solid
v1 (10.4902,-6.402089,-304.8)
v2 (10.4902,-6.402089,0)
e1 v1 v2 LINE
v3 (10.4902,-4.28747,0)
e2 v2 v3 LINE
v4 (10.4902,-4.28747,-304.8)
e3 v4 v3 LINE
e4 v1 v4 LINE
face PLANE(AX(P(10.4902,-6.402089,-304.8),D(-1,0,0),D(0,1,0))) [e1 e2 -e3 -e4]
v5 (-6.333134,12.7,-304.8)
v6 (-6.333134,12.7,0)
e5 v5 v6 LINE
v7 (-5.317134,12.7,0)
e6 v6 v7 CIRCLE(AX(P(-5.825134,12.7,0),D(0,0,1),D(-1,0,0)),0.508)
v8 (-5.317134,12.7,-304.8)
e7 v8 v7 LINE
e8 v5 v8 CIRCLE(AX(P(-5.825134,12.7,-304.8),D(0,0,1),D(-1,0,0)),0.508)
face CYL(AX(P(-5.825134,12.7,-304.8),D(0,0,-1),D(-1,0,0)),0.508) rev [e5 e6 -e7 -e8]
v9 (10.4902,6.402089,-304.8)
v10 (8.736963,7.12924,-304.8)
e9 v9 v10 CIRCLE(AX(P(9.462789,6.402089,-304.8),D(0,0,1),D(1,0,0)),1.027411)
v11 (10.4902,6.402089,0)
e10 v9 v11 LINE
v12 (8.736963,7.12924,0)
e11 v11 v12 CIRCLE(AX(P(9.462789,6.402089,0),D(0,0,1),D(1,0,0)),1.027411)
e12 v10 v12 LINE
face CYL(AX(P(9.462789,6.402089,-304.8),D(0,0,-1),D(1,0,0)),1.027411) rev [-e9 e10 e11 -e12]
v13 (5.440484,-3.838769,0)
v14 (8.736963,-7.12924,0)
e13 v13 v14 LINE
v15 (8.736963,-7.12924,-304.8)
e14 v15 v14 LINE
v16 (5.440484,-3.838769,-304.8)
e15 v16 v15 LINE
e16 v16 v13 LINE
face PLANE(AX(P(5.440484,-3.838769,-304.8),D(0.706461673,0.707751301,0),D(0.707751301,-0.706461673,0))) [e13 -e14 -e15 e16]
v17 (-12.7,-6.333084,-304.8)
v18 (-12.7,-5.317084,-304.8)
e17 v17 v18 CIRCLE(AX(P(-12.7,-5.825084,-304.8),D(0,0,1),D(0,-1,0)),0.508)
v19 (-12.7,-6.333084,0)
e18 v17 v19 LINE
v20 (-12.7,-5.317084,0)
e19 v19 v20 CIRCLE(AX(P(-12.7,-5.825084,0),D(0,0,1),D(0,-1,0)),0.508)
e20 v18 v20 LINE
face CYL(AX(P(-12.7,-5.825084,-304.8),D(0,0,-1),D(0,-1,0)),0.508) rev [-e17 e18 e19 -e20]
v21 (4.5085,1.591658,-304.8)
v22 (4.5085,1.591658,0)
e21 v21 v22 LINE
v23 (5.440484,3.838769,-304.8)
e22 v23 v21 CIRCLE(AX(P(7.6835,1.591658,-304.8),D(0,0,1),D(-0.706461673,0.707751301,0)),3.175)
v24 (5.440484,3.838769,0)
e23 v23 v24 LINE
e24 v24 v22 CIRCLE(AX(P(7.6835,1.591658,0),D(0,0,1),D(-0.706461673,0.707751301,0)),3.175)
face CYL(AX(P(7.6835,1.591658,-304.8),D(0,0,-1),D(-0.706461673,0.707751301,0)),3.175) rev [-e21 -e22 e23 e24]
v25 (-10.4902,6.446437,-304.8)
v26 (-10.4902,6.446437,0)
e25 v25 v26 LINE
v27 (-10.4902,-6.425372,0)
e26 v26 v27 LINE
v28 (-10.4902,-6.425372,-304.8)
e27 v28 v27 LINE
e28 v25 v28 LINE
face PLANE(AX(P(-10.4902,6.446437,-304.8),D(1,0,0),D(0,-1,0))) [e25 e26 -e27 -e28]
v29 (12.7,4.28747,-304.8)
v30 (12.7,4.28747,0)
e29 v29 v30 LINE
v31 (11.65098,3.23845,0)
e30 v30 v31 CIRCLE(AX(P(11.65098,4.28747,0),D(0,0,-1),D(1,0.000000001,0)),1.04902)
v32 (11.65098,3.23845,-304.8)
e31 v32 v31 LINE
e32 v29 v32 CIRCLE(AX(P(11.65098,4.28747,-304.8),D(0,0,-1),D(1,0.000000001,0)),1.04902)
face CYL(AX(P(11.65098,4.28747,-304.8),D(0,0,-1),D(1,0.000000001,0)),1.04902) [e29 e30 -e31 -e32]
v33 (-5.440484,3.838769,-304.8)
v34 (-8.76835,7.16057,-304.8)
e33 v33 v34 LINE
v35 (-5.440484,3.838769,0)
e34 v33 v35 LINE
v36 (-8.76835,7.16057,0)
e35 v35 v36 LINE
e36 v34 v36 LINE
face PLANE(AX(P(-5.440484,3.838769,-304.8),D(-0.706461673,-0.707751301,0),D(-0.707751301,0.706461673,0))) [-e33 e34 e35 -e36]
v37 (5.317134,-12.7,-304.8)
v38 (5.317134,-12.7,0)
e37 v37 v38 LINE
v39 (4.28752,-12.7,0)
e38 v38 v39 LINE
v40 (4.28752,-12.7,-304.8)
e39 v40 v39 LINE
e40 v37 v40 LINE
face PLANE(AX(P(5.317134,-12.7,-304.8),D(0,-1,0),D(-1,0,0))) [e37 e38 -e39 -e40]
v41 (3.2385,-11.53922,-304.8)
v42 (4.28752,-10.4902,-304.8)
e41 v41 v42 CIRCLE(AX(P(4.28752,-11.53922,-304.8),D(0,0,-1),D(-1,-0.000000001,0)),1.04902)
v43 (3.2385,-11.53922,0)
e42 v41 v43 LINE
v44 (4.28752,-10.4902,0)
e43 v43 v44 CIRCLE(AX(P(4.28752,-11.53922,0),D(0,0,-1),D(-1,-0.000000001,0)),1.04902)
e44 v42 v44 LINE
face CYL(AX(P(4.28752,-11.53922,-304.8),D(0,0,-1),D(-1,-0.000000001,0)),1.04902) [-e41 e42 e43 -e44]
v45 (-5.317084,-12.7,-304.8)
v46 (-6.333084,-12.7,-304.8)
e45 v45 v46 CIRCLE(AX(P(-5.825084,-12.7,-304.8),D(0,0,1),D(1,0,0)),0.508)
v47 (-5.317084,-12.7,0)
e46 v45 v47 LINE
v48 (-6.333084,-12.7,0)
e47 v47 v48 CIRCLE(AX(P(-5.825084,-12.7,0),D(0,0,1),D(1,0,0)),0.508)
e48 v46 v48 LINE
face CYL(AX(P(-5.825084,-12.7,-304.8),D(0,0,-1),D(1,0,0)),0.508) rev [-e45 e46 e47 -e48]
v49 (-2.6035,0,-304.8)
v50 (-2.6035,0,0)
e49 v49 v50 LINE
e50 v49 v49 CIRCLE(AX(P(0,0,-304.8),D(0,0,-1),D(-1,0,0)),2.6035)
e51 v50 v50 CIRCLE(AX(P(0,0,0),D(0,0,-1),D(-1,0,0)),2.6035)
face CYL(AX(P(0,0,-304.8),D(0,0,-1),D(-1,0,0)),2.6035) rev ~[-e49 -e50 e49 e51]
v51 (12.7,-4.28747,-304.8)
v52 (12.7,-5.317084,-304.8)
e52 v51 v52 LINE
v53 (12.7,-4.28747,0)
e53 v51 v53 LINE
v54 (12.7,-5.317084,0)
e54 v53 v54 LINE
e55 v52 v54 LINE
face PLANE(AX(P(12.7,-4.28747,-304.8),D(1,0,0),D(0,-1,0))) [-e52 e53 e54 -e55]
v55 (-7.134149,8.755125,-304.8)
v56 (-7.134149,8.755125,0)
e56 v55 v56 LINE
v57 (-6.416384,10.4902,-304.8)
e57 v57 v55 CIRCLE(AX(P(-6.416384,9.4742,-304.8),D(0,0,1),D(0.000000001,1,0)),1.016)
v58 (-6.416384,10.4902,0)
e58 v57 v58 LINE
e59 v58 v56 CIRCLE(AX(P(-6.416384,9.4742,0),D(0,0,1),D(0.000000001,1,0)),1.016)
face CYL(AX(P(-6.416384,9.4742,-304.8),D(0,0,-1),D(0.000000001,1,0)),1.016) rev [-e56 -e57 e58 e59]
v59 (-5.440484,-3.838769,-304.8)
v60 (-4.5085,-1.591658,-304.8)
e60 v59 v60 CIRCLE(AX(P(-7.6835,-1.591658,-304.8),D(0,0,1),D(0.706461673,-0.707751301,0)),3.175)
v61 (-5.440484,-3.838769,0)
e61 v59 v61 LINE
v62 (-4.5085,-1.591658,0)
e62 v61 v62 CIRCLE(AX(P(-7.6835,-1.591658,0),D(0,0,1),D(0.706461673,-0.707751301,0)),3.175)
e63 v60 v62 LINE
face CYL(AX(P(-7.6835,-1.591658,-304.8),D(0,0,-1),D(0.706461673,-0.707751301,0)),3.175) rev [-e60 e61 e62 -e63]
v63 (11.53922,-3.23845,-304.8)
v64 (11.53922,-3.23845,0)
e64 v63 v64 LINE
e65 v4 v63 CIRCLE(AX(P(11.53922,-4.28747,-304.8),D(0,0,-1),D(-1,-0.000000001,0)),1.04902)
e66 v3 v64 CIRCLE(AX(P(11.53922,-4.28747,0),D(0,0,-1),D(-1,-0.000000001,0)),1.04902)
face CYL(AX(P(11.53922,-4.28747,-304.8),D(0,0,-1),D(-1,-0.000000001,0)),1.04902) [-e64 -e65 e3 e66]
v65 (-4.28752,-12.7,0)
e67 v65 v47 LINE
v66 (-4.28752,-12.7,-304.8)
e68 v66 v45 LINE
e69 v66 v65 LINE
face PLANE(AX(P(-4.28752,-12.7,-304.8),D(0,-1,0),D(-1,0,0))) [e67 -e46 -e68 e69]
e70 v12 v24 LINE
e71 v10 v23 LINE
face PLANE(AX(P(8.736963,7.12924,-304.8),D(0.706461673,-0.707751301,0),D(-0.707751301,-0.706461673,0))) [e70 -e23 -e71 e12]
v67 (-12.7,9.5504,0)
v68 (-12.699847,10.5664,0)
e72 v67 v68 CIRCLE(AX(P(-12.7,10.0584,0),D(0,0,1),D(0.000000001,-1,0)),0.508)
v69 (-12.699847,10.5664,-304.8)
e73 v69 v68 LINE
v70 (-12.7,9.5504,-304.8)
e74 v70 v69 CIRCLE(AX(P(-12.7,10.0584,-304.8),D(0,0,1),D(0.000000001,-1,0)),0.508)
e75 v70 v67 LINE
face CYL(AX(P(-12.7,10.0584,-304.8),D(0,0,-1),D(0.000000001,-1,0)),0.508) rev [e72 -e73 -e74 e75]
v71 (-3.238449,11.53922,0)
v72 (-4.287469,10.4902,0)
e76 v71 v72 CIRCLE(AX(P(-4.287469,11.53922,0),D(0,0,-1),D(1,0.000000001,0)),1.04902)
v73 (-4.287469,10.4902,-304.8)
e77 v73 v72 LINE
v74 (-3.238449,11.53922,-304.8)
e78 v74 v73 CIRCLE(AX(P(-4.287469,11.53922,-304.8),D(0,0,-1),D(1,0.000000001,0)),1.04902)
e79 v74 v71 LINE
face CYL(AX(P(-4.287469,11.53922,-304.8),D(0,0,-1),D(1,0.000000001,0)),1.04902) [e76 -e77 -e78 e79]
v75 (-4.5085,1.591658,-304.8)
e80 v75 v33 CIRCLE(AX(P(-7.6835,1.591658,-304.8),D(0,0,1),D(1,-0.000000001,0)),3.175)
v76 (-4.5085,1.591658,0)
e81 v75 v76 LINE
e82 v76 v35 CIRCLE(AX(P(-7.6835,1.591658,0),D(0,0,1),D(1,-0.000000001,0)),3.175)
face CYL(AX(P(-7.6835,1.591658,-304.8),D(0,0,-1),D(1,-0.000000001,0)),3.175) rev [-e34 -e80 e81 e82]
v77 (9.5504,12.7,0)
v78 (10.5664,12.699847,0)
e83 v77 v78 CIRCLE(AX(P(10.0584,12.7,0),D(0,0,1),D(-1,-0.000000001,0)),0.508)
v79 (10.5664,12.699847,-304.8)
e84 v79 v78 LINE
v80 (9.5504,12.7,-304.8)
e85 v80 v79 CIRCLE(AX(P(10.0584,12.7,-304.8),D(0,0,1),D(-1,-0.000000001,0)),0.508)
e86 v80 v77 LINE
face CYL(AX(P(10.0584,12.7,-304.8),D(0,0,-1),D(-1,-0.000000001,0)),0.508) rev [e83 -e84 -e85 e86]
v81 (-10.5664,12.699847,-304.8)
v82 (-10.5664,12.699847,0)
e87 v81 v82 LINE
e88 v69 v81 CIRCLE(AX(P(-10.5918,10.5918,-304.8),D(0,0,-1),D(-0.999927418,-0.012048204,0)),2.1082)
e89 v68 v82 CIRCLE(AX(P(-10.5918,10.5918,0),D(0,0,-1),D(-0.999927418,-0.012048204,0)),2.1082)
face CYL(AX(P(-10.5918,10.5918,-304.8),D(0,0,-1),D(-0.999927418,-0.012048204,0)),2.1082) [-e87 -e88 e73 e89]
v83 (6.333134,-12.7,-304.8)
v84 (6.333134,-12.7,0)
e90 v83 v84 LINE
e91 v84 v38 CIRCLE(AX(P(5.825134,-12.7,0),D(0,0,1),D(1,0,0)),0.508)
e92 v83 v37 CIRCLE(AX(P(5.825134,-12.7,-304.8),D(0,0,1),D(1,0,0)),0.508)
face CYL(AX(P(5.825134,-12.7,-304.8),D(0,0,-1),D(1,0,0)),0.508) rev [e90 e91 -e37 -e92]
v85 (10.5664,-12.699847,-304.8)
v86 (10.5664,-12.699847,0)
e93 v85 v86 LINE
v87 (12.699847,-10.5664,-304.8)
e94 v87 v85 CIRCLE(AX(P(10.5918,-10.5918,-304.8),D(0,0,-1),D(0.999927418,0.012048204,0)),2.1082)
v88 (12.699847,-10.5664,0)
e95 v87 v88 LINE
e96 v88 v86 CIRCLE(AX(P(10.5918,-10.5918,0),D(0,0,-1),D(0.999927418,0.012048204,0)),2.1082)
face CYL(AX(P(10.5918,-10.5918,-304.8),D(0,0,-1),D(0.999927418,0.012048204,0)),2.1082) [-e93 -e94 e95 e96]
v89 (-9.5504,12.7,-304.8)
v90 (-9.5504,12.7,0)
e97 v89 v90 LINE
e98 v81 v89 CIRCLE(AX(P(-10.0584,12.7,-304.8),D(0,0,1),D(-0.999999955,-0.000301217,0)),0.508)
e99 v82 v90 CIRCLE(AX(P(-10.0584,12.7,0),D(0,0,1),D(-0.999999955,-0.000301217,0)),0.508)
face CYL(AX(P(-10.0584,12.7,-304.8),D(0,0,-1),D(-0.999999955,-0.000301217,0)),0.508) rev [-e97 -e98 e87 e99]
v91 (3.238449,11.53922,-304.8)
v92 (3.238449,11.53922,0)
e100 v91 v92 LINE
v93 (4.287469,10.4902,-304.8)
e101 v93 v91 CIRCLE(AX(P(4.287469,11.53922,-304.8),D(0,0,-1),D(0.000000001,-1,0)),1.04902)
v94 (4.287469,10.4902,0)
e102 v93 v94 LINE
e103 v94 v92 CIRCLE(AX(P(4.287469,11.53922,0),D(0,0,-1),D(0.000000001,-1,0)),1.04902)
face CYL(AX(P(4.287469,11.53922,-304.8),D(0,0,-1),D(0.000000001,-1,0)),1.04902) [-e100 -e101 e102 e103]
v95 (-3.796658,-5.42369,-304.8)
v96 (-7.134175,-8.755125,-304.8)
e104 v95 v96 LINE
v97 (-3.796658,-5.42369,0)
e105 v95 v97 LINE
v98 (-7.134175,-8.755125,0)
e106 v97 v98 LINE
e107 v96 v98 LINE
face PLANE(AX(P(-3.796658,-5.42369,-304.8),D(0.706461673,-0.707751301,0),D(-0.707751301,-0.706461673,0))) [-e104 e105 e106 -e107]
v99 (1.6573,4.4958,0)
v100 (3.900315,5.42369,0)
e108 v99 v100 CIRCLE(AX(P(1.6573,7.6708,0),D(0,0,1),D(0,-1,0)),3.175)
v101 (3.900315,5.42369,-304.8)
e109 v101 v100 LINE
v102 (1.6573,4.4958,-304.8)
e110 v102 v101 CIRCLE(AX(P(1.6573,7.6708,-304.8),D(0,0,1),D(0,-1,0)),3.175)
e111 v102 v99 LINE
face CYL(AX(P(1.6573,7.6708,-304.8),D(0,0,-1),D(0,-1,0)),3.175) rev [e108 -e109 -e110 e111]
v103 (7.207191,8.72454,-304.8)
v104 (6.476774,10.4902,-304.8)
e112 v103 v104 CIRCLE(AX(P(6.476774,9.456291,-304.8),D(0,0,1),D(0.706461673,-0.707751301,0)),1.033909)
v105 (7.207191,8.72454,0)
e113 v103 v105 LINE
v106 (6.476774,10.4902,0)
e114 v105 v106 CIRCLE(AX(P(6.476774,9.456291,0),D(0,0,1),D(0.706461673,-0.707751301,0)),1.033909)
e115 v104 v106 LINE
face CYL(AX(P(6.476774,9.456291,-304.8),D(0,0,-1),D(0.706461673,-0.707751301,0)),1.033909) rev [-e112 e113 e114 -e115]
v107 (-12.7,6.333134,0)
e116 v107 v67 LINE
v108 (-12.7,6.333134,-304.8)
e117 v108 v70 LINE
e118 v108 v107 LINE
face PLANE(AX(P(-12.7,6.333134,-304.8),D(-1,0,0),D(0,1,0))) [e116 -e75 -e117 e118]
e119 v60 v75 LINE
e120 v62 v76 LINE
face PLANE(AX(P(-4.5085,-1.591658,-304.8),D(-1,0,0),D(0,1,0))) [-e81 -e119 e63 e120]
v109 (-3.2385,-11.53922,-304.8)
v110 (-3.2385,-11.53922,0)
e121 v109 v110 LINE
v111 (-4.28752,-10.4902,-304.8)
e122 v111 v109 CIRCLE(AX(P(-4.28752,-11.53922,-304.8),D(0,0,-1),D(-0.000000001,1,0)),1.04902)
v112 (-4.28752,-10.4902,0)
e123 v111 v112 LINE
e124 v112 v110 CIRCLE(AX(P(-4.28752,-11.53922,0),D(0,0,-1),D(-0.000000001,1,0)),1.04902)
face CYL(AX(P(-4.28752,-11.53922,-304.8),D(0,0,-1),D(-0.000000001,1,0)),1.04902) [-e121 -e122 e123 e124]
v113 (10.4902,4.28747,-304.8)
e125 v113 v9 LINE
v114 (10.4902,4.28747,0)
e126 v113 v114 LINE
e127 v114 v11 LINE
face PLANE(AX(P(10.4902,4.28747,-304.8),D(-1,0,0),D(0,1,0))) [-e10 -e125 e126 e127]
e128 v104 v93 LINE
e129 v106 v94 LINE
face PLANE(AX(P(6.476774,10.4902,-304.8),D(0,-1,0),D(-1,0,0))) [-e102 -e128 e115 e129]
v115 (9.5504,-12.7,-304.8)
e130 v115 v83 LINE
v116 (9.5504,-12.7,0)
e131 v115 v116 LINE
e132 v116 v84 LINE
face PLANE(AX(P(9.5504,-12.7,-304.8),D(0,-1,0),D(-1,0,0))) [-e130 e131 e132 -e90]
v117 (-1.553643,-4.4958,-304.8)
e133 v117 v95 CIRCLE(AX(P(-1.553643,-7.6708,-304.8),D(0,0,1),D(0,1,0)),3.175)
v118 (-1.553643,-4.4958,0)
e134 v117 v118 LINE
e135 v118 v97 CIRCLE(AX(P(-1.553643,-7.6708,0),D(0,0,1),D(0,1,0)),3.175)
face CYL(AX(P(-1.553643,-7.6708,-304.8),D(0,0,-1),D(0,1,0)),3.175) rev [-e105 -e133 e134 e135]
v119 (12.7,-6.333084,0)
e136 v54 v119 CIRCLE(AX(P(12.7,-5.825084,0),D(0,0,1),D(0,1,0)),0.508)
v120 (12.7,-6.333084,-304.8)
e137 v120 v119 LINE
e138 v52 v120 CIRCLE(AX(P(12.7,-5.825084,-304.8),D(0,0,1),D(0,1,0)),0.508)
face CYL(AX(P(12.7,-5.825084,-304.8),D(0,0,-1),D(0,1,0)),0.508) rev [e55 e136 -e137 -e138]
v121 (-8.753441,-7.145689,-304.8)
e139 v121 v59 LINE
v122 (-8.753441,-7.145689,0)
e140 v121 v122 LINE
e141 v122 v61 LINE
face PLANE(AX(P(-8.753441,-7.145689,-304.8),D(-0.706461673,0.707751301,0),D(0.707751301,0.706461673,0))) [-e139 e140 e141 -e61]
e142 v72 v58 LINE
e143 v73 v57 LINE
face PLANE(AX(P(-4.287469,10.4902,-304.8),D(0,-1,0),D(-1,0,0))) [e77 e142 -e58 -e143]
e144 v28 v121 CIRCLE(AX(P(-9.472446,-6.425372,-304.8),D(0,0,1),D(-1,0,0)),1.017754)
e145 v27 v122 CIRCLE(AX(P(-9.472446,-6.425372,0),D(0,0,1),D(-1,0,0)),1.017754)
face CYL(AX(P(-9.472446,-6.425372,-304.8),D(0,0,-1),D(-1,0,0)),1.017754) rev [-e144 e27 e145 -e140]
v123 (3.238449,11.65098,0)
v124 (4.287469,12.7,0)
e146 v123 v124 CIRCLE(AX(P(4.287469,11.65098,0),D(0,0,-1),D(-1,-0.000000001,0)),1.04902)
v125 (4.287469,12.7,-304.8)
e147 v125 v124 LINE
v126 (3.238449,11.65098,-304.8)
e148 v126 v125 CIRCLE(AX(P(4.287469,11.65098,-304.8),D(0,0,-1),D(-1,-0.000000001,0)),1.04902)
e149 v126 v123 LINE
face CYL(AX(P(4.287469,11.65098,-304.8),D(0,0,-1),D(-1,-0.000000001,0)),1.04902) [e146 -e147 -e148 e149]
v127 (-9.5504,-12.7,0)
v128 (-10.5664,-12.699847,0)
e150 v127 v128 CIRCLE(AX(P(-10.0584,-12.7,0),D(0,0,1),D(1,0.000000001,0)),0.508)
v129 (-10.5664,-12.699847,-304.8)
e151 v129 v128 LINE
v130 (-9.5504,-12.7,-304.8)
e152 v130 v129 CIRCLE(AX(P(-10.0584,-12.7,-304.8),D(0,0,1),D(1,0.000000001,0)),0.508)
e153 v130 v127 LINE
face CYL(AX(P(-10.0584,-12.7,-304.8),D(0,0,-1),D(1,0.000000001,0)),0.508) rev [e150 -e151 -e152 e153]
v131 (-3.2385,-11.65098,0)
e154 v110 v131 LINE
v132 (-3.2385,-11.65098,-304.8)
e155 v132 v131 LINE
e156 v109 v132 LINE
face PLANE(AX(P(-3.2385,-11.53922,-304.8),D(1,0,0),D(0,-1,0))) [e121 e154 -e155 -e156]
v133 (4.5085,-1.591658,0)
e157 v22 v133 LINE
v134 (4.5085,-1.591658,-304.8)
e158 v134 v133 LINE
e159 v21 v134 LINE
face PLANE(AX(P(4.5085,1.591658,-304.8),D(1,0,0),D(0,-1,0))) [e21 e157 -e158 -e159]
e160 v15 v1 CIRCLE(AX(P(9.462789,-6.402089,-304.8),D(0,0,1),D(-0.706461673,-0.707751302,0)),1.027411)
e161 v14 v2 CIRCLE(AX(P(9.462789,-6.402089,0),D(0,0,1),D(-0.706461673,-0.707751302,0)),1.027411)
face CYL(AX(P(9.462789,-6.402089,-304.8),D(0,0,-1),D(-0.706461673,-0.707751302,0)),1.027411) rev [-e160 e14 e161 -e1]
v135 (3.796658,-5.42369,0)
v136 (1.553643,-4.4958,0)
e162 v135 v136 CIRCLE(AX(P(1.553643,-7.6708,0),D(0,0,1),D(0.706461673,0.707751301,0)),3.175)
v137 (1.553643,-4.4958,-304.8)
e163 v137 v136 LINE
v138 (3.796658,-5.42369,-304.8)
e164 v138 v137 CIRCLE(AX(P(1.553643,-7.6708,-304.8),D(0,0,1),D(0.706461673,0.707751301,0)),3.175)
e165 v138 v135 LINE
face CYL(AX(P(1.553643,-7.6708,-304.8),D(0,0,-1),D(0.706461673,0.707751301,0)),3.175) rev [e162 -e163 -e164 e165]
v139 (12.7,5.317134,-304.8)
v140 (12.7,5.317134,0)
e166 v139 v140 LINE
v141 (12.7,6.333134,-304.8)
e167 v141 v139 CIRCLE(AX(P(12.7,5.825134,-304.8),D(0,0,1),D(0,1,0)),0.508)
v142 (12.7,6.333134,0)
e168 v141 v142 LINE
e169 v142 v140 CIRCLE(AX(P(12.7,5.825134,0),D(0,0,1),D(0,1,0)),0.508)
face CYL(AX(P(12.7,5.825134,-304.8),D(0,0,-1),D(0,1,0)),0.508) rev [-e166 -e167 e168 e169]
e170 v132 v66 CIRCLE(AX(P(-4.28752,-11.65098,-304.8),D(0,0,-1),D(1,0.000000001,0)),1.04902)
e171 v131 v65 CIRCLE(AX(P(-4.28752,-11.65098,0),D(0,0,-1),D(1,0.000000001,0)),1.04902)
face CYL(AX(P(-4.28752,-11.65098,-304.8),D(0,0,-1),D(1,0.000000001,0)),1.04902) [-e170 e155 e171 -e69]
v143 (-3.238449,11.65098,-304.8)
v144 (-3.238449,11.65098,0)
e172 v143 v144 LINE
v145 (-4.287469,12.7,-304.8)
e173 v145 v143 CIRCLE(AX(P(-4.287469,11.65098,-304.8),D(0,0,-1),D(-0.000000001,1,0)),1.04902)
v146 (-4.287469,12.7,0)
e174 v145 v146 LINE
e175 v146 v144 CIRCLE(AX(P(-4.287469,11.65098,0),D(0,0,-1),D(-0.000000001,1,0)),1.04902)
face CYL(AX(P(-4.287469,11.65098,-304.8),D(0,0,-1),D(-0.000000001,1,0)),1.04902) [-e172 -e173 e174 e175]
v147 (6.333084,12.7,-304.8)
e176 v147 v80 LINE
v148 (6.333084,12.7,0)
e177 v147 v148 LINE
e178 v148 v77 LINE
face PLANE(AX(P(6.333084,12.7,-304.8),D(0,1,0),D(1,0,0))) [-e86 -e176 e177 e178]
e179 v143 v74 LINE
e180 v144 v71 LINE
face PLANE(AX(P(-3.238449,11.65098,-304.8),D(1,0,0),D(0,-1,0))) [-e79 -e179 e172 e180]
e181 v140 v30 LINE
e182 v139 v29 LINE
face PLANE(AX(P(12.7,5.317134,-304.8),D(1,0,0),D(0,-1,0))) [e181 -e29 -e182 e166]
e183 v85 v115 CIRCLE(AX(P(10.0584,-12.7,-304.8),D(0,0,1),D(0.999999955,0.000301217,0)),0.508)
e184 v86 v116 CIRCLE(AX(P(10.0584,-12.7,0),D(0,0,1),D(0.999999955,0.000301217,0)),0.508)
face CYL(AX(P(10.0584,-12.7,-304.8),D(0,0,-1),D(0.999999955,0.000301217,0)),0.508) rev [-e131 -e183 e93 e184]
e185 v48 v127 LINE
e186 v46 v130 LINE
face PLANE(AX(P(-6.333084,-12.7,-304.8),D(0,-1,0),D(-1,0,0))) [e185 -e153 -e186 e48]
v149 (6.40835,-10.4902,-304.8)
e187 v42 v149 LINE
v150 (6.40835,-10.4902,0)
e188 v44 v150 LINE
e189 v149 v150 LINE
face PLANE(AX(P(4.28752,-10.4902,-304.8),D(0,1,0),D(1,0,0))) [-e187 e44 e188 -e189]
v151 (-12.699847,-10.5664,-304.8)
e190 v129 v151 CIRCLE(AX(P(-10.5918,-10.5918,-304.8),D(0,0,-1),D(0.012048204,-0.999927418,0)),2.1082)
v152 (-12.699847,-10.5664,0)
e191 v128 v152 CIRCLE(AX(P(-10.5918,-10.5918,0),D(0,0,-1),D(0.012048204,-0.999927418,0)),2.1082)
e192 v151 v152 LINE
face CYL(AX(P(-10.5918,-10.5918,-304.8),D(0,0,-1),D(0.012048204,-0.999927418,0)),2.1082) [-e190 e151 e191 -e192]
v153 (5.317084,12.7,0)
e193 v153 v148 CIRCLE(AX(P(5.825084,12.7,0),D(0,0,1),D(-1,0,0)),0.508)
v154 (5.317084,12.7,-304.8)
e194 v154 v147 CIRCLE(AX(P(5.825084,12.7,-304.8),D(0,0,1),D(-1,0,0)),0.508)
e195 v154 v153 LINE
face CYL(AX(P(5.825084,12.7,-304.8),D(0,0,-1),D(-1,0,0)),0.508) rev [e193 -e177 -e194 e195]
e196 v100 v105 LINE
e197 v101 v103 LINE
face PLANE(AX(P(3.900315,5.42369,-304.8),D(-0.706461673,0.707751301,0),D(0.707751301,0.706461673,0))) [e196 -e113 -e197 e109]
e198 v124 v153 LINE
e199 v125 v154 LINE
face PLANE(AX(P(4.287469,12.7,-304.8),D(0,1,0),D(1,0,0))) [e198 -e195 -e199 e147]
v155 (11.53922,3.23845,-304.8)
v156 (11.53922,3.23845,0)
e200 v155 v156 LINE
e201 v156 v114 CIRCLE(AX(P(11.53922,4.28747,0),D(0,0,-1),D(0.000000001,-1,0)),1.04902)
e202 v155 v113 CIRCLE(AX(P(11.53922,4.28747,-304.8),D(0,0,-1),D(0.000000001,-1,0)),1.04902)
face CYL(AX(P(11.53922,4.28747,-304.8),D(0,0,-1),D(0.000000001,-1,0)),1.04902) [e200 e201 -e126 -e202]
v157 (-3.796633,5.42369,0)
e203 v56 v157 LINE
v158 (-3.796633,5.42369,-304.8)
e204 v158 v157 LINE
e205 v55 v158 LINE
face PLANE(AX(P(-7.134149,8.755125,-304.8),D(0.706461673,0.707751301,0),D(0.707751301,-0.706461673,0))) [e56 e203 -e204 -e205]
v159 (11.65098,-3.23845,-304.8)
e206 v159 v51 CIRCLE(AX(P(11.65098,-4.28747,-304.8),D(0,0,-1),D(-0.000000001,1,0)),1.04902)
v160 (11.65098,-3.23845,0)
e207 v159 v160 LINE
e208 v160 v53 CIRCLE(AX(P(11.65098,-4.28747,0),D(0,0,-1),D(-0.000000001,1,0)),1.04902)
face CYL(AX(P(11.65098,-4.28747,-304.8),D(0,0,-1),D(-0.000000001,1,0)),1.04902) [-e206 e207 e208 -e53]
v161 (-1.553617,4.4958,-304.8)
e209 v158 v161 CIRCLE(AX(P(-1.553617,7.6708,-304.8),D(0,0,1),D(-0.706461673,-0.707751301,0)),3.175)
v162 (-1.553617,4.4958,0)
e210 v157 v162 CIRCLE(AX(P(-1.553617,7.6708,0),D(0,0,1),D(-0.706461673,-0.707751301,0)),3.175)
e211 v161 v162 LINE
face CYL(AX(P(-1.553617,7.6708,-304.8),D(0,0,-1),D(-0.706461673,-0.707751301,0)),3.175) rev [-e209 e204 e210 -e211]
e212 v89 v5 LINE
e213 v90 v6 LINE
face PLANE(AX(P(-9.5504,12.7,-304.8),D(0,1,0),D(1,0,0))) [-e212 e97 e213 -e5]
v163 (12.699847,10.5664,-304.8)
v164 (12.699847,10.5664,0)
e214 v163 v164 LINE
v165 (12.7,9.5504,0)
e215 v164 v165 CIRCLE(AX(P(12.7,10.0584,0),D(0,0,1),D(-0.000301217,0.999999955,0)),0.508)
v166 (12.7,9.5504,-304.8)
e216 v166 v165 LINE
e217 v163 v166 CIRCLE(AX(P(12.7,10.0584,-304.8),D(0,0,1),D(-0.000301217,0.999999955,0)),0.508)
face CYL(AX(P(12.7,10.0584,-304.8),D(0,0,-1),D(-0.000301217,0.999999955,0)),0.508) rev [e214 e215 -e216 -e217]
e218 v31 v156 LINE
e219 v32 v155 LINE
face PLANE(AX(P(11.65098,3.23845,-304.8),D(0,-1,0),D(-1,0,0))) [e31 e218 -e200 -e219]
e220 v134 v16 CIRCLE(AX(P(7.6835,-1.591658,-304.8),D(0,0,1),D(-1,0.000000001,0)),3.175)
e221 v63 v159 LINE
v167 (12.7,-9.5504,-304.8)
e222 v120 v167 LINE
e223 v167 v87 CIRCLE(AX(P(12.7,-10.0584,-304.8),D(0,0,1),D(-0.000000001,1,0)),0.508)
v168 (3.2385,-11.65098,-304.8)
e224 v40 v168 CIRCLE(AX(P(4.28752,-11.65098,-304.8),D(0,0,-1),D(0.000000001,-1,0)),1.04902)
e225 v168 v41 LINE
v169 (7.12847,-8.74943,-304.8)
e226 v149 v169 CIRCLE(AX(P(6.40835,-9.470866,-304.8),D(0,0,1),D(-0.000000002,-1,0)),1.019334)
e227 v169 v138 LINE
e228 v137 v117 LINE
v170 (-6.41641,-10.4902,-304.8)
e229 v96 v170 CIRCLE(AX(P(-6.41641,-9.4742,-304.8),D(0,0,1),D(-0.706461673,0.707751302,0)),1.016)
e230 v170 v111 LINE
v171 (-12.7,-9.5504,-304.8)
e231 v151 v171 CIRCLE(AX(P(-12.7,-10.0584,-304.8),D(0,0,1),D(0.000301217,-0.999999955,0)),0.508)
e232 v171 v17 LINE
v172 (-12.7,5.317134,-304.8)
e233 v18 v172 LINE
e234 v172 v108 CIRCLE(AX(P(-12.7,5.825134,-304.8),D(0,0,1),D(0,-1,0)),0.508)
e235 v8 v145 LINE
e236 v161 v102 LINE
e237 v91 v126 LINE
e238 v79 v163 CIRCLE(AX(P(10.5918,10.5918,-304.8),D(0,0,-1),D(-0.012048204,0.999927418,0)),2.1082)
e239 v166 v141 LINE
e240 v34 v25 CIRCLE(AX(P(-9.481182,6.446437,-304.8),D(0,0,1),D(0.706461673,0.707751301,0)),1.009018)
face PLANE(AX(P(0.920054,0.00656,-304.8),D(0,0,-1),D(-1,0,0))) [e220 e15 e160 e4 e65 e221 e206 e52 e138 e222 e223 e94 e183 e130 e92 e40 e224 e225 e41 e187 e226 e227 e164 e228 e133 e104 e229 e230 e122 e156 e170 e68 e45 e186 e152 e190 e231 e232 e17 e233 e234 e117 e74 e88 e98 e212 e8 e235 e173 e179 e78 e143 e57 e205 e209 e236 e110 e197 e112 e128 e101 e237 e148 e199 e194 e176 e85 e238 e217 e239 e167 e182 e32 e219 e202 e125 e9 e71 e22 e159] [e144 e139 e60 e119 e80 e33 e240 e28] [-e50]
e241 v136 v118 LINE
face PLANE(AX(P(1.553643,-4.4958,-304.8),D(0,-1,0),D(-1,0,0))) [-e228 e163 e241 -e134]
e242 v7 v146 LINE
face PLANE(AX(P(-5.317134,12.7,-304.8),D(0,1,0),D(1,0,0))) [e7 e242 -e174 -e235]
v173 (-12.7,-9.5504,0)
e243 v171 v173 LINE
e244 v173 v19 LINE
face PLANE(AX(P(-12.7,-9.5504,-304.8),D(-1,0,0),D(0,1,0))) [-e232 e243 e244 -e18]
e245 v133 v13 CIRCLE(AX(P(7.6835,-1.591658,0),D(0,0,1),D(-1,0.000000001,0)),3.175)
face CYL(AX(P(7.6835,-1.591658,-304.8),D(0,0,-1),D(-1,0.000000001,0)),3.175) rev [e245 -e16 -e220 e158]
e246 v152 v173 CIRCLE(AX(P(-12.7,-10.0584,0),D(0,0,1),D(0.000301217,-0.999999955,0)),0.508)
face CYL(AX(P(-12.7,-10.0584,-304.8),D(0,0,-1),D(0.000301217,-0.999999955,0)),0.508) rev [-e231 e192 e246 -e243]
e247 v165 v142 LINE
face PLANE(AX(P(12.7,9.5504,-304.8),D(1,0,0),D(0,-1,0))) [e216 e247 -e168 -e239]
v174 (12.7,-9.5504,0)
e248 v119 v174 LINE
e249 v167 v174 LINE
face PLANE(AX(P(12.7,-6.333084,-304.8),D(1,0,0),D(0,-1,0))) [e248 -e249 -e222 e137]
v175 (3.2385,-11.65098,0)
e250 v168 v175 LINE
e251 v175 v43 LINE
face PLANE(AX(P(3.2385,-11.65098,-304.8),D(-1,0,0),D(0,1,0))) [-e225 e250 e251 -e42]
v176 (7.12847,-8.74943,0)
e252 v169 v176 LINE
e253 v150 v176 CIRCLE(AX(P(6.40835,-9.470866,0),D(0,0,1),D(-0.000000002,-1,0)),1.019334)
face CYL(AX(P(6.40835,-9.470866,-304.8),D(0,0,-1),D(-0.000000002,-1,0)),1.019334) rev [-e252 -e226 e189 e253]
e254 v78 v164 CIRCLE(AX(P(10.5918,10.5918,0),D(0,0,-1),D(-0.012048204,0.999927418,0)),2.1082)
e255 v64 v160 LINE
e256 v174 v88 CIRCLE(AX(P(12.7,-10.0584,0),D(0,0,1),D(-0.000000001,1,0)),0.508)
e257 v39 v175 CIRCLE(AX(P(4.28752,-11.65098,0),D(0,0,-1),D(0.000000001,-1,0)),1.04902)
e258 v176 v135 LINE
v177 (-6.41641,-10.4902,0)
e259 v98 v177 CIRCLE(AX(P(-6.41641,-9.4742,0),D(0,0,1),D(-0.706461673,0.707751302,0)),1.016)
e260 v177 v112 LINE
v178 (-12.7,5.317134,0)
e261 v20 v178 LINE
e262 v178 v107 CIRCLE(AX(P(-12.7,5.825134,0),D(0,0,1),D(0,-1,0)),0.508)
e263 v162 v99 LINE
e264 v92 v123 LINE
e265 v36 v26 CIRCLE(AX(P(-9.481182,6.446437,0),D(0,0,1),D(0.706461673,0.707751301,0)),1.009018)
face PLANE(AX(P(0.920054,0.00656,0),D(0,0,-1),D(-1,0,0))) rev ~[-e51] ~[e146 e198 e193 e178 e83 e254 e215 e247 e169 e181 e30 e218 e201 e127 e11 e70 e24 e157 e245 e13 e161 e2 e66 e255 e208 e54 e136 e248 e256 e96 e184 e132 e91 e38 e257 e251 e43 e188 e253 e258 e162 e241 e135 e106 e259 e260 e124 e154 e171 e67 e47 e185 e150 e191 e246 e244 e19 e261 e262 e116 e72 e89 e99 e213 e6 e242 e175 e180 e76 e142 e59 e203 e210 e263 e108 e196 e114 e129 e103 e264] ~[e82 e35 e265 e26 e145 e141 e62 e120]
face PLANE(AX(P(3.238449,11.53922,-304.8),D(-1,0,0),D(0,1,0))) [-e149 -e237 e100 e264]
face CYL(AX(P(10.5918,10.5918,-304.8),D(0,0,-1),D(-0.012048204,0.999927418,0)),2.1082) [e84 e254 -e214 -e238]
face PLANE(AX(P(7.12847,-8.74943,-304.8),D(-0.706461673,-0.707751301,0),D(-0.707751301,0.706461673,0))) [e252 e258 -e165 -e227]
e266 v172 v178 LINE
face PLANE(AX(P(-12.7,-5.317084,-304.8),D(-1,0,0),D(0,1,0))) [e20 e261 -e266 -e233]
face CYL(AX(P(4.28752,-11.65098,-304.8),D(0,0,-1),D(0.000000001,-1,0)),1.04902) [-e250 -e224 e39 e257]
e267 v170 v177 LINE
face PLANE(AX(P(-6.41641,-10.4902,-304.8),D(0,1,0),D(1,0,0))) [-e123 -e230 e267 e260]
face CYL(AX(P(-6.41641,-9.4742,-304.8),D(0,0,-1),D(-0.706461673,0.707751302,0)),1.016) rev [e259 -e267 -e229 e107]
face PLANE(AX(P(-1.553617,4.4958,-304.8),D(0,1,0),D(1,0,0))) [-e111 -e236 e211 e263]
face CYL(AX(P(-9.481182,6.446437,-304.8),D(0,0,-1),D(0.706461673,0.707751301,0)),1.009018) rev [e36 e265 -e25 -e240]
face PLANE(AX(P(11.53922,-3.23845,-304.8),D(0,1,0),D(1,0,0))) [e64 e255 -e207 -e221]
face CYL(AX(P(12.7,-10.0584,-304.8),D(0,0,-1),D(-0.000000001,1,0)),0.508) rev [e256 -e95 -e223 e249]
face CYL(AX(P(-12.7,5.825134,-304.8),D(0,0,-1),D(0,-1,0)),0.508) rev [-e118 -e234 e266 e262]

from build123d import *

# Parameters (mm, degrees)
SKETCH1_R           = 2.6035
BOSS_EXTRUDE1_DEPTH = 304.8


with BuildPart() as part:
    # Sketch1 → Boss-Extrude1 (new body)
    with BuildSketch(Plane(origin=(0, 0, -304.8), x_dir=(-1, 0, 0), z_dir=(0, 0, -1))):
        with BuildLine():
            Line((6.416409763, -10.4902), (4.28752, -10.4902))
            ThreePointArc((4.28752, -10.4902), (3.545750844, -10.797450844), (3.2385, -11.53922))
            Line((3.2385, -11.53922), (3.2385, -11.65098))
            ThreePointArc((3.2385, -11.65098), (3.545750844, -12.392749156), (4.28752, -12.7))
            Line((4.28752, -12.7), (5.3170836, -12.7))
            ThreePointArc((5.3170836, -12.7), (5.8250836, -12.192), (6.3330836, -12.7))
            Line((6.3330836, -12.7), (9.5504, -12.7))
            ThreePointArc((9.5504, -12.7), (10.058323491, -12.192000006), (10.566399977, -12.699846982))
            ThreePointArc((10.566399977, -12.699846982), (12.082522516, -12.082522516), (12.699846982, -10.566399977))
            ThreePointArc((12.699846982, -10.566399977), (12.192000006, -10.058323491), (12.7, -9.5504))
            Line((12.7, -9.5504), (12.7, -6.3330836))
            ThreePointArc((12.7, -6.3330836), (12.192, -5.8250836), (12.7, -5.3170836))
            Line((12.7, -5.3170836), (12.7, 5.3171344))
            ThreePointArc((12.7, 5.3171344), (12.192, 5.8251344), (12.7, 6.3331344))
            Line((12.7, 6.3331344), (12.7, 9.5504))
            ThreePointArc((12.7, 9.5504), (12.192000006, 10.058323491), (12.699846982, 10.566399977))
            ThreePointArc((12.699846982, 10.566399977), (12.082522516, 12.082522516), (10.566399977, 12.699846982))
            ThreePointArc((10.566399977, 12.699846982), (10.058323491, 12.192000006), (9.5504, 12.7))
            Line((9.5504, 12.7), (6.3331344, 12.7))
            ThreePointArc((6.3331344, 12.7), (5.8251344, 12.192), (5.3171344, 12.7))
            Line((5.3171344, 12.7), (4.2874692, 12.7))
            ThreePointArc((4.2874692, 12.7), (3.545700044, 12.392749156), (3.2384492, 11.65098))
            Line((3.2384492, 11.65098), (3.2384492, 11.53922))
            ThreePointArc((3.2384492, 11.53922), (3.545700044, 10.797450844), (4.2874692, 10.4902))
            Line((4.2874692, 10.4902), (6.416384363, 10.4902))
            ThreePointArc((6.416384363, 10.4902), (7.355223148, 9.862578342), (7.134149423, 8.755124678))
            Line((7.134149423, 8.755124678), (3.796632915, 5.423689619))
            ThreePointArc((3.796632915, 5.423689619), (2.767299421, 4.736928798), (1.553617102, 4.4958))
            Line((1.553617102, 4.4958), (-1.657299581, 4.4958))
            ThreePointArc((-1.657299581, 4.4958), (-2.8709819, 4.736928798), (-3.900315394, 5.423689619))
            Line((-3.900315394, 5.423689619), (-7.207191475, 8.724540082))
            ThreePointArc((-7.207191475, 8.724540082), (-7.43216212, 9.851515102), (-6.476774195, 10.4902))
            Line((-6.476774195, 10.4902), (-4.2874692, 10.4902))
            ThreePointArc((-4.2874692, 10.4902), (-3.545700044, 10.797450844), (-3.2384492, 11.53922))
            Line((-3.2384492, 11.53922), (-3.2384492, 11.65098))
            ThreePointArc((-3.2384492, 11.65098), (-3.545700044, 12.392749156), (-4.2874692, 12.7))
            Line((-4.2874692, 12.7), (-5.3170836, 12.7))
            ThreePointArc((-5.3170836, 12.7), (-5.8250836, 12.192), (-6.3330836, 12.7))
            Line((-6.3330836, 12.7), (-9.5504, 12.7))
            ThreePointArc((-9.5504, 12.7), (-10.058323491, 12.192000006), (-10.566399977, 12.699846982))
            ThreePointArc((-10.566399977, 12.699846982), (-12.082522516, 12.082522516), (-12.699846982, 10.566399977))
            ThreePointArc((-12.699846982, 10.566399977), (-12.192000006, 10.058323491), (-12.7, 9.5504))
            Line((-12.7, 9.5504), (-12.7, 6.3331344))
            ThreePointArc((-12.7, 6.3331344), (-12.192, 5.8251344), (-12.7, 5.3171344))
            Line((-12.7, 5.3171344), (-12.7, 4.287470133))
            ThreePointArc((-12.7, 4.287470133), (-12.392749156, 3.545700977), (-11.65098, 3.238450133))
            Line((-11.65098, 3.238450133), (-11.53922, 3.238450133))
            ThreePointArc((-11.53922, 3.238450133), (-10.797450844, 3.545700977), (-10.4902, 4.287470133))
            Line((-10.4902, 4.287470133), (-10.4902, 6.402089023))
            ThreePointArc((-10.4902, 6.402089023), (-9.856394933, 7.351113629), (-8.736962546, 7.129240479))
            Line((-8.736962546, 7.129240479), (-5.440484187, 3.838768792))
            ThreePointArc((-5.440484187, 3.838768792), (-4.75073678, 2.808015636), (-4.5085, 1.591658411))
            Line((-4.5085, 1.591658411), (-4.5085, -1.591658411))
            ThreePointArc((-4.5085, -1.591658411), (-4.75073678, -2.808015636), (-5.440484187, -3.838768792))
            Line((-5.440484187, -3.838768792), (-8.736962546, -7.129240479))
            ThreePointArc((-8.736962546, -7.129240479), (-9.856394933, -7.351113629), (-10.4902, -6.402089023))
            Line((-10.4902, -6.402089023), (-10.4902, -4.287470133))
            ThreePointArc((-10.4902, -4.287470133), (-10.797450844, -3.545700977), (-11.53922, -3.238450133))
            Line((-11.53922, -3.238450133), (-11.65098, -3.238450133))
            ThreePointArc((-11.65098, -3.238450133), (-12.392749156, -3.545700977), (-12.7, -4.287470133))
            Line((-12.7, -4.287470133), (-12.7, -5.3170836))
            ThreePointArc((-12.7, -5.3170836), (-12.192, -5.8250836), (-12.7, -6.3330836))
            Line((-12.7, -6.3330836), (-12.7, -9.5504))
            ThreePointArc((-12.7, -9.5504), (-12.192000006, -10.058323491), (-12.699846982, -10.566399977))
            ThreePointArc((-12.699846982, -10.566399977), (-12.082522516, -12.082522516), (-10.566399977, -12.699846982))
            ThreePointArc((-10.566399977, -12.699846982), (-10.058323491, -12.192000006), (-9.5504, -12.7))
            Line((-9.5504, -12.7), (-6.3331344, -12.7))
            ThreePointArc((-6.3331344, -12.7), (-5.8251344, -12.192), (-5.3171344, -12.7))
            Line((-5.3171344, -12.7), (-4.28752, -12.7))
            ThreePointArc((-4.28752, -12.7), (-3.545750844, -12.392749156), (-3.2385, -11.65098))
            Line((-3.2385, -11.65098), (-3.2385, -11.53922))
            ThreePointArc((-3.2385, -11.53922), (-3.545750844, -10.797450844), (-4.28752, -10.4902))
            Line((-4.28752, -10.4902), (-6.40834956, -10.4902))
            ThreePointArc((-6.40834956, -10.4902), (-7.350269456, -9.860518594), (-7.128470204, -8.749430454))
            Line((-7.128470204, -8.749430454), (-3.796658315, -5.423689619))
            ThreePointArc((-3.796658315, -5.423689619), (-2.767324821, -4.736928798), (-1.553642502, -4.4958))
            Line((-1.553642502, -4.4958), (1.553642502, -4.4958))
            ThreePointArc((1.553642502, -4.4958), (2.767324821, -4.736928798), (3.796658315, -5.423689619))
            Line((3.796658315, -5.423689619), (7.134174823, -8.755124678))
            ThreePointArc((7.134174823, -8.755124678), (7.355248548, -9.862578342), (6.416409763, -10.4902))
        make_face()
        Circle(SKETCH1_R, mode=Mode.SUBTRACT)
        with BuildLine():
            Line((10.4902, 6.446436794), (10.4902, -6.425372487))
            ThreePointArc((10.4902, -6.425372487), (9.862352148, -7.36547709), (8.753441447, -7.145689354))
            Line((8.753441447, -7.145689354), (5.440484187, -3.838768792))
            ThreePointArc((5.440484187, -3.838768792), (4.75073678, -2.808015636), (4.5085, -1.591658411))
            Line((4.5085, -1.591658411), (4.5085, 1.591658411))
            ThreePointArc((4.5085, 1.591658411), (4.75073678, 2.808015636), (5.440484187, 3.838768792))
            Line((5.440484187, 3.838768792), (8.768349738, 7.160570479))
            ThreePointArc((8.768349738, 7.160570479), (9.867741577, 7.378471563), (10.4902, 6.446436794))
        make_face(mode=Mode.SUBTRACT)
    extrude(amount=-BOSS_EXTRUDE1_DEPTH)


solid = part.part
